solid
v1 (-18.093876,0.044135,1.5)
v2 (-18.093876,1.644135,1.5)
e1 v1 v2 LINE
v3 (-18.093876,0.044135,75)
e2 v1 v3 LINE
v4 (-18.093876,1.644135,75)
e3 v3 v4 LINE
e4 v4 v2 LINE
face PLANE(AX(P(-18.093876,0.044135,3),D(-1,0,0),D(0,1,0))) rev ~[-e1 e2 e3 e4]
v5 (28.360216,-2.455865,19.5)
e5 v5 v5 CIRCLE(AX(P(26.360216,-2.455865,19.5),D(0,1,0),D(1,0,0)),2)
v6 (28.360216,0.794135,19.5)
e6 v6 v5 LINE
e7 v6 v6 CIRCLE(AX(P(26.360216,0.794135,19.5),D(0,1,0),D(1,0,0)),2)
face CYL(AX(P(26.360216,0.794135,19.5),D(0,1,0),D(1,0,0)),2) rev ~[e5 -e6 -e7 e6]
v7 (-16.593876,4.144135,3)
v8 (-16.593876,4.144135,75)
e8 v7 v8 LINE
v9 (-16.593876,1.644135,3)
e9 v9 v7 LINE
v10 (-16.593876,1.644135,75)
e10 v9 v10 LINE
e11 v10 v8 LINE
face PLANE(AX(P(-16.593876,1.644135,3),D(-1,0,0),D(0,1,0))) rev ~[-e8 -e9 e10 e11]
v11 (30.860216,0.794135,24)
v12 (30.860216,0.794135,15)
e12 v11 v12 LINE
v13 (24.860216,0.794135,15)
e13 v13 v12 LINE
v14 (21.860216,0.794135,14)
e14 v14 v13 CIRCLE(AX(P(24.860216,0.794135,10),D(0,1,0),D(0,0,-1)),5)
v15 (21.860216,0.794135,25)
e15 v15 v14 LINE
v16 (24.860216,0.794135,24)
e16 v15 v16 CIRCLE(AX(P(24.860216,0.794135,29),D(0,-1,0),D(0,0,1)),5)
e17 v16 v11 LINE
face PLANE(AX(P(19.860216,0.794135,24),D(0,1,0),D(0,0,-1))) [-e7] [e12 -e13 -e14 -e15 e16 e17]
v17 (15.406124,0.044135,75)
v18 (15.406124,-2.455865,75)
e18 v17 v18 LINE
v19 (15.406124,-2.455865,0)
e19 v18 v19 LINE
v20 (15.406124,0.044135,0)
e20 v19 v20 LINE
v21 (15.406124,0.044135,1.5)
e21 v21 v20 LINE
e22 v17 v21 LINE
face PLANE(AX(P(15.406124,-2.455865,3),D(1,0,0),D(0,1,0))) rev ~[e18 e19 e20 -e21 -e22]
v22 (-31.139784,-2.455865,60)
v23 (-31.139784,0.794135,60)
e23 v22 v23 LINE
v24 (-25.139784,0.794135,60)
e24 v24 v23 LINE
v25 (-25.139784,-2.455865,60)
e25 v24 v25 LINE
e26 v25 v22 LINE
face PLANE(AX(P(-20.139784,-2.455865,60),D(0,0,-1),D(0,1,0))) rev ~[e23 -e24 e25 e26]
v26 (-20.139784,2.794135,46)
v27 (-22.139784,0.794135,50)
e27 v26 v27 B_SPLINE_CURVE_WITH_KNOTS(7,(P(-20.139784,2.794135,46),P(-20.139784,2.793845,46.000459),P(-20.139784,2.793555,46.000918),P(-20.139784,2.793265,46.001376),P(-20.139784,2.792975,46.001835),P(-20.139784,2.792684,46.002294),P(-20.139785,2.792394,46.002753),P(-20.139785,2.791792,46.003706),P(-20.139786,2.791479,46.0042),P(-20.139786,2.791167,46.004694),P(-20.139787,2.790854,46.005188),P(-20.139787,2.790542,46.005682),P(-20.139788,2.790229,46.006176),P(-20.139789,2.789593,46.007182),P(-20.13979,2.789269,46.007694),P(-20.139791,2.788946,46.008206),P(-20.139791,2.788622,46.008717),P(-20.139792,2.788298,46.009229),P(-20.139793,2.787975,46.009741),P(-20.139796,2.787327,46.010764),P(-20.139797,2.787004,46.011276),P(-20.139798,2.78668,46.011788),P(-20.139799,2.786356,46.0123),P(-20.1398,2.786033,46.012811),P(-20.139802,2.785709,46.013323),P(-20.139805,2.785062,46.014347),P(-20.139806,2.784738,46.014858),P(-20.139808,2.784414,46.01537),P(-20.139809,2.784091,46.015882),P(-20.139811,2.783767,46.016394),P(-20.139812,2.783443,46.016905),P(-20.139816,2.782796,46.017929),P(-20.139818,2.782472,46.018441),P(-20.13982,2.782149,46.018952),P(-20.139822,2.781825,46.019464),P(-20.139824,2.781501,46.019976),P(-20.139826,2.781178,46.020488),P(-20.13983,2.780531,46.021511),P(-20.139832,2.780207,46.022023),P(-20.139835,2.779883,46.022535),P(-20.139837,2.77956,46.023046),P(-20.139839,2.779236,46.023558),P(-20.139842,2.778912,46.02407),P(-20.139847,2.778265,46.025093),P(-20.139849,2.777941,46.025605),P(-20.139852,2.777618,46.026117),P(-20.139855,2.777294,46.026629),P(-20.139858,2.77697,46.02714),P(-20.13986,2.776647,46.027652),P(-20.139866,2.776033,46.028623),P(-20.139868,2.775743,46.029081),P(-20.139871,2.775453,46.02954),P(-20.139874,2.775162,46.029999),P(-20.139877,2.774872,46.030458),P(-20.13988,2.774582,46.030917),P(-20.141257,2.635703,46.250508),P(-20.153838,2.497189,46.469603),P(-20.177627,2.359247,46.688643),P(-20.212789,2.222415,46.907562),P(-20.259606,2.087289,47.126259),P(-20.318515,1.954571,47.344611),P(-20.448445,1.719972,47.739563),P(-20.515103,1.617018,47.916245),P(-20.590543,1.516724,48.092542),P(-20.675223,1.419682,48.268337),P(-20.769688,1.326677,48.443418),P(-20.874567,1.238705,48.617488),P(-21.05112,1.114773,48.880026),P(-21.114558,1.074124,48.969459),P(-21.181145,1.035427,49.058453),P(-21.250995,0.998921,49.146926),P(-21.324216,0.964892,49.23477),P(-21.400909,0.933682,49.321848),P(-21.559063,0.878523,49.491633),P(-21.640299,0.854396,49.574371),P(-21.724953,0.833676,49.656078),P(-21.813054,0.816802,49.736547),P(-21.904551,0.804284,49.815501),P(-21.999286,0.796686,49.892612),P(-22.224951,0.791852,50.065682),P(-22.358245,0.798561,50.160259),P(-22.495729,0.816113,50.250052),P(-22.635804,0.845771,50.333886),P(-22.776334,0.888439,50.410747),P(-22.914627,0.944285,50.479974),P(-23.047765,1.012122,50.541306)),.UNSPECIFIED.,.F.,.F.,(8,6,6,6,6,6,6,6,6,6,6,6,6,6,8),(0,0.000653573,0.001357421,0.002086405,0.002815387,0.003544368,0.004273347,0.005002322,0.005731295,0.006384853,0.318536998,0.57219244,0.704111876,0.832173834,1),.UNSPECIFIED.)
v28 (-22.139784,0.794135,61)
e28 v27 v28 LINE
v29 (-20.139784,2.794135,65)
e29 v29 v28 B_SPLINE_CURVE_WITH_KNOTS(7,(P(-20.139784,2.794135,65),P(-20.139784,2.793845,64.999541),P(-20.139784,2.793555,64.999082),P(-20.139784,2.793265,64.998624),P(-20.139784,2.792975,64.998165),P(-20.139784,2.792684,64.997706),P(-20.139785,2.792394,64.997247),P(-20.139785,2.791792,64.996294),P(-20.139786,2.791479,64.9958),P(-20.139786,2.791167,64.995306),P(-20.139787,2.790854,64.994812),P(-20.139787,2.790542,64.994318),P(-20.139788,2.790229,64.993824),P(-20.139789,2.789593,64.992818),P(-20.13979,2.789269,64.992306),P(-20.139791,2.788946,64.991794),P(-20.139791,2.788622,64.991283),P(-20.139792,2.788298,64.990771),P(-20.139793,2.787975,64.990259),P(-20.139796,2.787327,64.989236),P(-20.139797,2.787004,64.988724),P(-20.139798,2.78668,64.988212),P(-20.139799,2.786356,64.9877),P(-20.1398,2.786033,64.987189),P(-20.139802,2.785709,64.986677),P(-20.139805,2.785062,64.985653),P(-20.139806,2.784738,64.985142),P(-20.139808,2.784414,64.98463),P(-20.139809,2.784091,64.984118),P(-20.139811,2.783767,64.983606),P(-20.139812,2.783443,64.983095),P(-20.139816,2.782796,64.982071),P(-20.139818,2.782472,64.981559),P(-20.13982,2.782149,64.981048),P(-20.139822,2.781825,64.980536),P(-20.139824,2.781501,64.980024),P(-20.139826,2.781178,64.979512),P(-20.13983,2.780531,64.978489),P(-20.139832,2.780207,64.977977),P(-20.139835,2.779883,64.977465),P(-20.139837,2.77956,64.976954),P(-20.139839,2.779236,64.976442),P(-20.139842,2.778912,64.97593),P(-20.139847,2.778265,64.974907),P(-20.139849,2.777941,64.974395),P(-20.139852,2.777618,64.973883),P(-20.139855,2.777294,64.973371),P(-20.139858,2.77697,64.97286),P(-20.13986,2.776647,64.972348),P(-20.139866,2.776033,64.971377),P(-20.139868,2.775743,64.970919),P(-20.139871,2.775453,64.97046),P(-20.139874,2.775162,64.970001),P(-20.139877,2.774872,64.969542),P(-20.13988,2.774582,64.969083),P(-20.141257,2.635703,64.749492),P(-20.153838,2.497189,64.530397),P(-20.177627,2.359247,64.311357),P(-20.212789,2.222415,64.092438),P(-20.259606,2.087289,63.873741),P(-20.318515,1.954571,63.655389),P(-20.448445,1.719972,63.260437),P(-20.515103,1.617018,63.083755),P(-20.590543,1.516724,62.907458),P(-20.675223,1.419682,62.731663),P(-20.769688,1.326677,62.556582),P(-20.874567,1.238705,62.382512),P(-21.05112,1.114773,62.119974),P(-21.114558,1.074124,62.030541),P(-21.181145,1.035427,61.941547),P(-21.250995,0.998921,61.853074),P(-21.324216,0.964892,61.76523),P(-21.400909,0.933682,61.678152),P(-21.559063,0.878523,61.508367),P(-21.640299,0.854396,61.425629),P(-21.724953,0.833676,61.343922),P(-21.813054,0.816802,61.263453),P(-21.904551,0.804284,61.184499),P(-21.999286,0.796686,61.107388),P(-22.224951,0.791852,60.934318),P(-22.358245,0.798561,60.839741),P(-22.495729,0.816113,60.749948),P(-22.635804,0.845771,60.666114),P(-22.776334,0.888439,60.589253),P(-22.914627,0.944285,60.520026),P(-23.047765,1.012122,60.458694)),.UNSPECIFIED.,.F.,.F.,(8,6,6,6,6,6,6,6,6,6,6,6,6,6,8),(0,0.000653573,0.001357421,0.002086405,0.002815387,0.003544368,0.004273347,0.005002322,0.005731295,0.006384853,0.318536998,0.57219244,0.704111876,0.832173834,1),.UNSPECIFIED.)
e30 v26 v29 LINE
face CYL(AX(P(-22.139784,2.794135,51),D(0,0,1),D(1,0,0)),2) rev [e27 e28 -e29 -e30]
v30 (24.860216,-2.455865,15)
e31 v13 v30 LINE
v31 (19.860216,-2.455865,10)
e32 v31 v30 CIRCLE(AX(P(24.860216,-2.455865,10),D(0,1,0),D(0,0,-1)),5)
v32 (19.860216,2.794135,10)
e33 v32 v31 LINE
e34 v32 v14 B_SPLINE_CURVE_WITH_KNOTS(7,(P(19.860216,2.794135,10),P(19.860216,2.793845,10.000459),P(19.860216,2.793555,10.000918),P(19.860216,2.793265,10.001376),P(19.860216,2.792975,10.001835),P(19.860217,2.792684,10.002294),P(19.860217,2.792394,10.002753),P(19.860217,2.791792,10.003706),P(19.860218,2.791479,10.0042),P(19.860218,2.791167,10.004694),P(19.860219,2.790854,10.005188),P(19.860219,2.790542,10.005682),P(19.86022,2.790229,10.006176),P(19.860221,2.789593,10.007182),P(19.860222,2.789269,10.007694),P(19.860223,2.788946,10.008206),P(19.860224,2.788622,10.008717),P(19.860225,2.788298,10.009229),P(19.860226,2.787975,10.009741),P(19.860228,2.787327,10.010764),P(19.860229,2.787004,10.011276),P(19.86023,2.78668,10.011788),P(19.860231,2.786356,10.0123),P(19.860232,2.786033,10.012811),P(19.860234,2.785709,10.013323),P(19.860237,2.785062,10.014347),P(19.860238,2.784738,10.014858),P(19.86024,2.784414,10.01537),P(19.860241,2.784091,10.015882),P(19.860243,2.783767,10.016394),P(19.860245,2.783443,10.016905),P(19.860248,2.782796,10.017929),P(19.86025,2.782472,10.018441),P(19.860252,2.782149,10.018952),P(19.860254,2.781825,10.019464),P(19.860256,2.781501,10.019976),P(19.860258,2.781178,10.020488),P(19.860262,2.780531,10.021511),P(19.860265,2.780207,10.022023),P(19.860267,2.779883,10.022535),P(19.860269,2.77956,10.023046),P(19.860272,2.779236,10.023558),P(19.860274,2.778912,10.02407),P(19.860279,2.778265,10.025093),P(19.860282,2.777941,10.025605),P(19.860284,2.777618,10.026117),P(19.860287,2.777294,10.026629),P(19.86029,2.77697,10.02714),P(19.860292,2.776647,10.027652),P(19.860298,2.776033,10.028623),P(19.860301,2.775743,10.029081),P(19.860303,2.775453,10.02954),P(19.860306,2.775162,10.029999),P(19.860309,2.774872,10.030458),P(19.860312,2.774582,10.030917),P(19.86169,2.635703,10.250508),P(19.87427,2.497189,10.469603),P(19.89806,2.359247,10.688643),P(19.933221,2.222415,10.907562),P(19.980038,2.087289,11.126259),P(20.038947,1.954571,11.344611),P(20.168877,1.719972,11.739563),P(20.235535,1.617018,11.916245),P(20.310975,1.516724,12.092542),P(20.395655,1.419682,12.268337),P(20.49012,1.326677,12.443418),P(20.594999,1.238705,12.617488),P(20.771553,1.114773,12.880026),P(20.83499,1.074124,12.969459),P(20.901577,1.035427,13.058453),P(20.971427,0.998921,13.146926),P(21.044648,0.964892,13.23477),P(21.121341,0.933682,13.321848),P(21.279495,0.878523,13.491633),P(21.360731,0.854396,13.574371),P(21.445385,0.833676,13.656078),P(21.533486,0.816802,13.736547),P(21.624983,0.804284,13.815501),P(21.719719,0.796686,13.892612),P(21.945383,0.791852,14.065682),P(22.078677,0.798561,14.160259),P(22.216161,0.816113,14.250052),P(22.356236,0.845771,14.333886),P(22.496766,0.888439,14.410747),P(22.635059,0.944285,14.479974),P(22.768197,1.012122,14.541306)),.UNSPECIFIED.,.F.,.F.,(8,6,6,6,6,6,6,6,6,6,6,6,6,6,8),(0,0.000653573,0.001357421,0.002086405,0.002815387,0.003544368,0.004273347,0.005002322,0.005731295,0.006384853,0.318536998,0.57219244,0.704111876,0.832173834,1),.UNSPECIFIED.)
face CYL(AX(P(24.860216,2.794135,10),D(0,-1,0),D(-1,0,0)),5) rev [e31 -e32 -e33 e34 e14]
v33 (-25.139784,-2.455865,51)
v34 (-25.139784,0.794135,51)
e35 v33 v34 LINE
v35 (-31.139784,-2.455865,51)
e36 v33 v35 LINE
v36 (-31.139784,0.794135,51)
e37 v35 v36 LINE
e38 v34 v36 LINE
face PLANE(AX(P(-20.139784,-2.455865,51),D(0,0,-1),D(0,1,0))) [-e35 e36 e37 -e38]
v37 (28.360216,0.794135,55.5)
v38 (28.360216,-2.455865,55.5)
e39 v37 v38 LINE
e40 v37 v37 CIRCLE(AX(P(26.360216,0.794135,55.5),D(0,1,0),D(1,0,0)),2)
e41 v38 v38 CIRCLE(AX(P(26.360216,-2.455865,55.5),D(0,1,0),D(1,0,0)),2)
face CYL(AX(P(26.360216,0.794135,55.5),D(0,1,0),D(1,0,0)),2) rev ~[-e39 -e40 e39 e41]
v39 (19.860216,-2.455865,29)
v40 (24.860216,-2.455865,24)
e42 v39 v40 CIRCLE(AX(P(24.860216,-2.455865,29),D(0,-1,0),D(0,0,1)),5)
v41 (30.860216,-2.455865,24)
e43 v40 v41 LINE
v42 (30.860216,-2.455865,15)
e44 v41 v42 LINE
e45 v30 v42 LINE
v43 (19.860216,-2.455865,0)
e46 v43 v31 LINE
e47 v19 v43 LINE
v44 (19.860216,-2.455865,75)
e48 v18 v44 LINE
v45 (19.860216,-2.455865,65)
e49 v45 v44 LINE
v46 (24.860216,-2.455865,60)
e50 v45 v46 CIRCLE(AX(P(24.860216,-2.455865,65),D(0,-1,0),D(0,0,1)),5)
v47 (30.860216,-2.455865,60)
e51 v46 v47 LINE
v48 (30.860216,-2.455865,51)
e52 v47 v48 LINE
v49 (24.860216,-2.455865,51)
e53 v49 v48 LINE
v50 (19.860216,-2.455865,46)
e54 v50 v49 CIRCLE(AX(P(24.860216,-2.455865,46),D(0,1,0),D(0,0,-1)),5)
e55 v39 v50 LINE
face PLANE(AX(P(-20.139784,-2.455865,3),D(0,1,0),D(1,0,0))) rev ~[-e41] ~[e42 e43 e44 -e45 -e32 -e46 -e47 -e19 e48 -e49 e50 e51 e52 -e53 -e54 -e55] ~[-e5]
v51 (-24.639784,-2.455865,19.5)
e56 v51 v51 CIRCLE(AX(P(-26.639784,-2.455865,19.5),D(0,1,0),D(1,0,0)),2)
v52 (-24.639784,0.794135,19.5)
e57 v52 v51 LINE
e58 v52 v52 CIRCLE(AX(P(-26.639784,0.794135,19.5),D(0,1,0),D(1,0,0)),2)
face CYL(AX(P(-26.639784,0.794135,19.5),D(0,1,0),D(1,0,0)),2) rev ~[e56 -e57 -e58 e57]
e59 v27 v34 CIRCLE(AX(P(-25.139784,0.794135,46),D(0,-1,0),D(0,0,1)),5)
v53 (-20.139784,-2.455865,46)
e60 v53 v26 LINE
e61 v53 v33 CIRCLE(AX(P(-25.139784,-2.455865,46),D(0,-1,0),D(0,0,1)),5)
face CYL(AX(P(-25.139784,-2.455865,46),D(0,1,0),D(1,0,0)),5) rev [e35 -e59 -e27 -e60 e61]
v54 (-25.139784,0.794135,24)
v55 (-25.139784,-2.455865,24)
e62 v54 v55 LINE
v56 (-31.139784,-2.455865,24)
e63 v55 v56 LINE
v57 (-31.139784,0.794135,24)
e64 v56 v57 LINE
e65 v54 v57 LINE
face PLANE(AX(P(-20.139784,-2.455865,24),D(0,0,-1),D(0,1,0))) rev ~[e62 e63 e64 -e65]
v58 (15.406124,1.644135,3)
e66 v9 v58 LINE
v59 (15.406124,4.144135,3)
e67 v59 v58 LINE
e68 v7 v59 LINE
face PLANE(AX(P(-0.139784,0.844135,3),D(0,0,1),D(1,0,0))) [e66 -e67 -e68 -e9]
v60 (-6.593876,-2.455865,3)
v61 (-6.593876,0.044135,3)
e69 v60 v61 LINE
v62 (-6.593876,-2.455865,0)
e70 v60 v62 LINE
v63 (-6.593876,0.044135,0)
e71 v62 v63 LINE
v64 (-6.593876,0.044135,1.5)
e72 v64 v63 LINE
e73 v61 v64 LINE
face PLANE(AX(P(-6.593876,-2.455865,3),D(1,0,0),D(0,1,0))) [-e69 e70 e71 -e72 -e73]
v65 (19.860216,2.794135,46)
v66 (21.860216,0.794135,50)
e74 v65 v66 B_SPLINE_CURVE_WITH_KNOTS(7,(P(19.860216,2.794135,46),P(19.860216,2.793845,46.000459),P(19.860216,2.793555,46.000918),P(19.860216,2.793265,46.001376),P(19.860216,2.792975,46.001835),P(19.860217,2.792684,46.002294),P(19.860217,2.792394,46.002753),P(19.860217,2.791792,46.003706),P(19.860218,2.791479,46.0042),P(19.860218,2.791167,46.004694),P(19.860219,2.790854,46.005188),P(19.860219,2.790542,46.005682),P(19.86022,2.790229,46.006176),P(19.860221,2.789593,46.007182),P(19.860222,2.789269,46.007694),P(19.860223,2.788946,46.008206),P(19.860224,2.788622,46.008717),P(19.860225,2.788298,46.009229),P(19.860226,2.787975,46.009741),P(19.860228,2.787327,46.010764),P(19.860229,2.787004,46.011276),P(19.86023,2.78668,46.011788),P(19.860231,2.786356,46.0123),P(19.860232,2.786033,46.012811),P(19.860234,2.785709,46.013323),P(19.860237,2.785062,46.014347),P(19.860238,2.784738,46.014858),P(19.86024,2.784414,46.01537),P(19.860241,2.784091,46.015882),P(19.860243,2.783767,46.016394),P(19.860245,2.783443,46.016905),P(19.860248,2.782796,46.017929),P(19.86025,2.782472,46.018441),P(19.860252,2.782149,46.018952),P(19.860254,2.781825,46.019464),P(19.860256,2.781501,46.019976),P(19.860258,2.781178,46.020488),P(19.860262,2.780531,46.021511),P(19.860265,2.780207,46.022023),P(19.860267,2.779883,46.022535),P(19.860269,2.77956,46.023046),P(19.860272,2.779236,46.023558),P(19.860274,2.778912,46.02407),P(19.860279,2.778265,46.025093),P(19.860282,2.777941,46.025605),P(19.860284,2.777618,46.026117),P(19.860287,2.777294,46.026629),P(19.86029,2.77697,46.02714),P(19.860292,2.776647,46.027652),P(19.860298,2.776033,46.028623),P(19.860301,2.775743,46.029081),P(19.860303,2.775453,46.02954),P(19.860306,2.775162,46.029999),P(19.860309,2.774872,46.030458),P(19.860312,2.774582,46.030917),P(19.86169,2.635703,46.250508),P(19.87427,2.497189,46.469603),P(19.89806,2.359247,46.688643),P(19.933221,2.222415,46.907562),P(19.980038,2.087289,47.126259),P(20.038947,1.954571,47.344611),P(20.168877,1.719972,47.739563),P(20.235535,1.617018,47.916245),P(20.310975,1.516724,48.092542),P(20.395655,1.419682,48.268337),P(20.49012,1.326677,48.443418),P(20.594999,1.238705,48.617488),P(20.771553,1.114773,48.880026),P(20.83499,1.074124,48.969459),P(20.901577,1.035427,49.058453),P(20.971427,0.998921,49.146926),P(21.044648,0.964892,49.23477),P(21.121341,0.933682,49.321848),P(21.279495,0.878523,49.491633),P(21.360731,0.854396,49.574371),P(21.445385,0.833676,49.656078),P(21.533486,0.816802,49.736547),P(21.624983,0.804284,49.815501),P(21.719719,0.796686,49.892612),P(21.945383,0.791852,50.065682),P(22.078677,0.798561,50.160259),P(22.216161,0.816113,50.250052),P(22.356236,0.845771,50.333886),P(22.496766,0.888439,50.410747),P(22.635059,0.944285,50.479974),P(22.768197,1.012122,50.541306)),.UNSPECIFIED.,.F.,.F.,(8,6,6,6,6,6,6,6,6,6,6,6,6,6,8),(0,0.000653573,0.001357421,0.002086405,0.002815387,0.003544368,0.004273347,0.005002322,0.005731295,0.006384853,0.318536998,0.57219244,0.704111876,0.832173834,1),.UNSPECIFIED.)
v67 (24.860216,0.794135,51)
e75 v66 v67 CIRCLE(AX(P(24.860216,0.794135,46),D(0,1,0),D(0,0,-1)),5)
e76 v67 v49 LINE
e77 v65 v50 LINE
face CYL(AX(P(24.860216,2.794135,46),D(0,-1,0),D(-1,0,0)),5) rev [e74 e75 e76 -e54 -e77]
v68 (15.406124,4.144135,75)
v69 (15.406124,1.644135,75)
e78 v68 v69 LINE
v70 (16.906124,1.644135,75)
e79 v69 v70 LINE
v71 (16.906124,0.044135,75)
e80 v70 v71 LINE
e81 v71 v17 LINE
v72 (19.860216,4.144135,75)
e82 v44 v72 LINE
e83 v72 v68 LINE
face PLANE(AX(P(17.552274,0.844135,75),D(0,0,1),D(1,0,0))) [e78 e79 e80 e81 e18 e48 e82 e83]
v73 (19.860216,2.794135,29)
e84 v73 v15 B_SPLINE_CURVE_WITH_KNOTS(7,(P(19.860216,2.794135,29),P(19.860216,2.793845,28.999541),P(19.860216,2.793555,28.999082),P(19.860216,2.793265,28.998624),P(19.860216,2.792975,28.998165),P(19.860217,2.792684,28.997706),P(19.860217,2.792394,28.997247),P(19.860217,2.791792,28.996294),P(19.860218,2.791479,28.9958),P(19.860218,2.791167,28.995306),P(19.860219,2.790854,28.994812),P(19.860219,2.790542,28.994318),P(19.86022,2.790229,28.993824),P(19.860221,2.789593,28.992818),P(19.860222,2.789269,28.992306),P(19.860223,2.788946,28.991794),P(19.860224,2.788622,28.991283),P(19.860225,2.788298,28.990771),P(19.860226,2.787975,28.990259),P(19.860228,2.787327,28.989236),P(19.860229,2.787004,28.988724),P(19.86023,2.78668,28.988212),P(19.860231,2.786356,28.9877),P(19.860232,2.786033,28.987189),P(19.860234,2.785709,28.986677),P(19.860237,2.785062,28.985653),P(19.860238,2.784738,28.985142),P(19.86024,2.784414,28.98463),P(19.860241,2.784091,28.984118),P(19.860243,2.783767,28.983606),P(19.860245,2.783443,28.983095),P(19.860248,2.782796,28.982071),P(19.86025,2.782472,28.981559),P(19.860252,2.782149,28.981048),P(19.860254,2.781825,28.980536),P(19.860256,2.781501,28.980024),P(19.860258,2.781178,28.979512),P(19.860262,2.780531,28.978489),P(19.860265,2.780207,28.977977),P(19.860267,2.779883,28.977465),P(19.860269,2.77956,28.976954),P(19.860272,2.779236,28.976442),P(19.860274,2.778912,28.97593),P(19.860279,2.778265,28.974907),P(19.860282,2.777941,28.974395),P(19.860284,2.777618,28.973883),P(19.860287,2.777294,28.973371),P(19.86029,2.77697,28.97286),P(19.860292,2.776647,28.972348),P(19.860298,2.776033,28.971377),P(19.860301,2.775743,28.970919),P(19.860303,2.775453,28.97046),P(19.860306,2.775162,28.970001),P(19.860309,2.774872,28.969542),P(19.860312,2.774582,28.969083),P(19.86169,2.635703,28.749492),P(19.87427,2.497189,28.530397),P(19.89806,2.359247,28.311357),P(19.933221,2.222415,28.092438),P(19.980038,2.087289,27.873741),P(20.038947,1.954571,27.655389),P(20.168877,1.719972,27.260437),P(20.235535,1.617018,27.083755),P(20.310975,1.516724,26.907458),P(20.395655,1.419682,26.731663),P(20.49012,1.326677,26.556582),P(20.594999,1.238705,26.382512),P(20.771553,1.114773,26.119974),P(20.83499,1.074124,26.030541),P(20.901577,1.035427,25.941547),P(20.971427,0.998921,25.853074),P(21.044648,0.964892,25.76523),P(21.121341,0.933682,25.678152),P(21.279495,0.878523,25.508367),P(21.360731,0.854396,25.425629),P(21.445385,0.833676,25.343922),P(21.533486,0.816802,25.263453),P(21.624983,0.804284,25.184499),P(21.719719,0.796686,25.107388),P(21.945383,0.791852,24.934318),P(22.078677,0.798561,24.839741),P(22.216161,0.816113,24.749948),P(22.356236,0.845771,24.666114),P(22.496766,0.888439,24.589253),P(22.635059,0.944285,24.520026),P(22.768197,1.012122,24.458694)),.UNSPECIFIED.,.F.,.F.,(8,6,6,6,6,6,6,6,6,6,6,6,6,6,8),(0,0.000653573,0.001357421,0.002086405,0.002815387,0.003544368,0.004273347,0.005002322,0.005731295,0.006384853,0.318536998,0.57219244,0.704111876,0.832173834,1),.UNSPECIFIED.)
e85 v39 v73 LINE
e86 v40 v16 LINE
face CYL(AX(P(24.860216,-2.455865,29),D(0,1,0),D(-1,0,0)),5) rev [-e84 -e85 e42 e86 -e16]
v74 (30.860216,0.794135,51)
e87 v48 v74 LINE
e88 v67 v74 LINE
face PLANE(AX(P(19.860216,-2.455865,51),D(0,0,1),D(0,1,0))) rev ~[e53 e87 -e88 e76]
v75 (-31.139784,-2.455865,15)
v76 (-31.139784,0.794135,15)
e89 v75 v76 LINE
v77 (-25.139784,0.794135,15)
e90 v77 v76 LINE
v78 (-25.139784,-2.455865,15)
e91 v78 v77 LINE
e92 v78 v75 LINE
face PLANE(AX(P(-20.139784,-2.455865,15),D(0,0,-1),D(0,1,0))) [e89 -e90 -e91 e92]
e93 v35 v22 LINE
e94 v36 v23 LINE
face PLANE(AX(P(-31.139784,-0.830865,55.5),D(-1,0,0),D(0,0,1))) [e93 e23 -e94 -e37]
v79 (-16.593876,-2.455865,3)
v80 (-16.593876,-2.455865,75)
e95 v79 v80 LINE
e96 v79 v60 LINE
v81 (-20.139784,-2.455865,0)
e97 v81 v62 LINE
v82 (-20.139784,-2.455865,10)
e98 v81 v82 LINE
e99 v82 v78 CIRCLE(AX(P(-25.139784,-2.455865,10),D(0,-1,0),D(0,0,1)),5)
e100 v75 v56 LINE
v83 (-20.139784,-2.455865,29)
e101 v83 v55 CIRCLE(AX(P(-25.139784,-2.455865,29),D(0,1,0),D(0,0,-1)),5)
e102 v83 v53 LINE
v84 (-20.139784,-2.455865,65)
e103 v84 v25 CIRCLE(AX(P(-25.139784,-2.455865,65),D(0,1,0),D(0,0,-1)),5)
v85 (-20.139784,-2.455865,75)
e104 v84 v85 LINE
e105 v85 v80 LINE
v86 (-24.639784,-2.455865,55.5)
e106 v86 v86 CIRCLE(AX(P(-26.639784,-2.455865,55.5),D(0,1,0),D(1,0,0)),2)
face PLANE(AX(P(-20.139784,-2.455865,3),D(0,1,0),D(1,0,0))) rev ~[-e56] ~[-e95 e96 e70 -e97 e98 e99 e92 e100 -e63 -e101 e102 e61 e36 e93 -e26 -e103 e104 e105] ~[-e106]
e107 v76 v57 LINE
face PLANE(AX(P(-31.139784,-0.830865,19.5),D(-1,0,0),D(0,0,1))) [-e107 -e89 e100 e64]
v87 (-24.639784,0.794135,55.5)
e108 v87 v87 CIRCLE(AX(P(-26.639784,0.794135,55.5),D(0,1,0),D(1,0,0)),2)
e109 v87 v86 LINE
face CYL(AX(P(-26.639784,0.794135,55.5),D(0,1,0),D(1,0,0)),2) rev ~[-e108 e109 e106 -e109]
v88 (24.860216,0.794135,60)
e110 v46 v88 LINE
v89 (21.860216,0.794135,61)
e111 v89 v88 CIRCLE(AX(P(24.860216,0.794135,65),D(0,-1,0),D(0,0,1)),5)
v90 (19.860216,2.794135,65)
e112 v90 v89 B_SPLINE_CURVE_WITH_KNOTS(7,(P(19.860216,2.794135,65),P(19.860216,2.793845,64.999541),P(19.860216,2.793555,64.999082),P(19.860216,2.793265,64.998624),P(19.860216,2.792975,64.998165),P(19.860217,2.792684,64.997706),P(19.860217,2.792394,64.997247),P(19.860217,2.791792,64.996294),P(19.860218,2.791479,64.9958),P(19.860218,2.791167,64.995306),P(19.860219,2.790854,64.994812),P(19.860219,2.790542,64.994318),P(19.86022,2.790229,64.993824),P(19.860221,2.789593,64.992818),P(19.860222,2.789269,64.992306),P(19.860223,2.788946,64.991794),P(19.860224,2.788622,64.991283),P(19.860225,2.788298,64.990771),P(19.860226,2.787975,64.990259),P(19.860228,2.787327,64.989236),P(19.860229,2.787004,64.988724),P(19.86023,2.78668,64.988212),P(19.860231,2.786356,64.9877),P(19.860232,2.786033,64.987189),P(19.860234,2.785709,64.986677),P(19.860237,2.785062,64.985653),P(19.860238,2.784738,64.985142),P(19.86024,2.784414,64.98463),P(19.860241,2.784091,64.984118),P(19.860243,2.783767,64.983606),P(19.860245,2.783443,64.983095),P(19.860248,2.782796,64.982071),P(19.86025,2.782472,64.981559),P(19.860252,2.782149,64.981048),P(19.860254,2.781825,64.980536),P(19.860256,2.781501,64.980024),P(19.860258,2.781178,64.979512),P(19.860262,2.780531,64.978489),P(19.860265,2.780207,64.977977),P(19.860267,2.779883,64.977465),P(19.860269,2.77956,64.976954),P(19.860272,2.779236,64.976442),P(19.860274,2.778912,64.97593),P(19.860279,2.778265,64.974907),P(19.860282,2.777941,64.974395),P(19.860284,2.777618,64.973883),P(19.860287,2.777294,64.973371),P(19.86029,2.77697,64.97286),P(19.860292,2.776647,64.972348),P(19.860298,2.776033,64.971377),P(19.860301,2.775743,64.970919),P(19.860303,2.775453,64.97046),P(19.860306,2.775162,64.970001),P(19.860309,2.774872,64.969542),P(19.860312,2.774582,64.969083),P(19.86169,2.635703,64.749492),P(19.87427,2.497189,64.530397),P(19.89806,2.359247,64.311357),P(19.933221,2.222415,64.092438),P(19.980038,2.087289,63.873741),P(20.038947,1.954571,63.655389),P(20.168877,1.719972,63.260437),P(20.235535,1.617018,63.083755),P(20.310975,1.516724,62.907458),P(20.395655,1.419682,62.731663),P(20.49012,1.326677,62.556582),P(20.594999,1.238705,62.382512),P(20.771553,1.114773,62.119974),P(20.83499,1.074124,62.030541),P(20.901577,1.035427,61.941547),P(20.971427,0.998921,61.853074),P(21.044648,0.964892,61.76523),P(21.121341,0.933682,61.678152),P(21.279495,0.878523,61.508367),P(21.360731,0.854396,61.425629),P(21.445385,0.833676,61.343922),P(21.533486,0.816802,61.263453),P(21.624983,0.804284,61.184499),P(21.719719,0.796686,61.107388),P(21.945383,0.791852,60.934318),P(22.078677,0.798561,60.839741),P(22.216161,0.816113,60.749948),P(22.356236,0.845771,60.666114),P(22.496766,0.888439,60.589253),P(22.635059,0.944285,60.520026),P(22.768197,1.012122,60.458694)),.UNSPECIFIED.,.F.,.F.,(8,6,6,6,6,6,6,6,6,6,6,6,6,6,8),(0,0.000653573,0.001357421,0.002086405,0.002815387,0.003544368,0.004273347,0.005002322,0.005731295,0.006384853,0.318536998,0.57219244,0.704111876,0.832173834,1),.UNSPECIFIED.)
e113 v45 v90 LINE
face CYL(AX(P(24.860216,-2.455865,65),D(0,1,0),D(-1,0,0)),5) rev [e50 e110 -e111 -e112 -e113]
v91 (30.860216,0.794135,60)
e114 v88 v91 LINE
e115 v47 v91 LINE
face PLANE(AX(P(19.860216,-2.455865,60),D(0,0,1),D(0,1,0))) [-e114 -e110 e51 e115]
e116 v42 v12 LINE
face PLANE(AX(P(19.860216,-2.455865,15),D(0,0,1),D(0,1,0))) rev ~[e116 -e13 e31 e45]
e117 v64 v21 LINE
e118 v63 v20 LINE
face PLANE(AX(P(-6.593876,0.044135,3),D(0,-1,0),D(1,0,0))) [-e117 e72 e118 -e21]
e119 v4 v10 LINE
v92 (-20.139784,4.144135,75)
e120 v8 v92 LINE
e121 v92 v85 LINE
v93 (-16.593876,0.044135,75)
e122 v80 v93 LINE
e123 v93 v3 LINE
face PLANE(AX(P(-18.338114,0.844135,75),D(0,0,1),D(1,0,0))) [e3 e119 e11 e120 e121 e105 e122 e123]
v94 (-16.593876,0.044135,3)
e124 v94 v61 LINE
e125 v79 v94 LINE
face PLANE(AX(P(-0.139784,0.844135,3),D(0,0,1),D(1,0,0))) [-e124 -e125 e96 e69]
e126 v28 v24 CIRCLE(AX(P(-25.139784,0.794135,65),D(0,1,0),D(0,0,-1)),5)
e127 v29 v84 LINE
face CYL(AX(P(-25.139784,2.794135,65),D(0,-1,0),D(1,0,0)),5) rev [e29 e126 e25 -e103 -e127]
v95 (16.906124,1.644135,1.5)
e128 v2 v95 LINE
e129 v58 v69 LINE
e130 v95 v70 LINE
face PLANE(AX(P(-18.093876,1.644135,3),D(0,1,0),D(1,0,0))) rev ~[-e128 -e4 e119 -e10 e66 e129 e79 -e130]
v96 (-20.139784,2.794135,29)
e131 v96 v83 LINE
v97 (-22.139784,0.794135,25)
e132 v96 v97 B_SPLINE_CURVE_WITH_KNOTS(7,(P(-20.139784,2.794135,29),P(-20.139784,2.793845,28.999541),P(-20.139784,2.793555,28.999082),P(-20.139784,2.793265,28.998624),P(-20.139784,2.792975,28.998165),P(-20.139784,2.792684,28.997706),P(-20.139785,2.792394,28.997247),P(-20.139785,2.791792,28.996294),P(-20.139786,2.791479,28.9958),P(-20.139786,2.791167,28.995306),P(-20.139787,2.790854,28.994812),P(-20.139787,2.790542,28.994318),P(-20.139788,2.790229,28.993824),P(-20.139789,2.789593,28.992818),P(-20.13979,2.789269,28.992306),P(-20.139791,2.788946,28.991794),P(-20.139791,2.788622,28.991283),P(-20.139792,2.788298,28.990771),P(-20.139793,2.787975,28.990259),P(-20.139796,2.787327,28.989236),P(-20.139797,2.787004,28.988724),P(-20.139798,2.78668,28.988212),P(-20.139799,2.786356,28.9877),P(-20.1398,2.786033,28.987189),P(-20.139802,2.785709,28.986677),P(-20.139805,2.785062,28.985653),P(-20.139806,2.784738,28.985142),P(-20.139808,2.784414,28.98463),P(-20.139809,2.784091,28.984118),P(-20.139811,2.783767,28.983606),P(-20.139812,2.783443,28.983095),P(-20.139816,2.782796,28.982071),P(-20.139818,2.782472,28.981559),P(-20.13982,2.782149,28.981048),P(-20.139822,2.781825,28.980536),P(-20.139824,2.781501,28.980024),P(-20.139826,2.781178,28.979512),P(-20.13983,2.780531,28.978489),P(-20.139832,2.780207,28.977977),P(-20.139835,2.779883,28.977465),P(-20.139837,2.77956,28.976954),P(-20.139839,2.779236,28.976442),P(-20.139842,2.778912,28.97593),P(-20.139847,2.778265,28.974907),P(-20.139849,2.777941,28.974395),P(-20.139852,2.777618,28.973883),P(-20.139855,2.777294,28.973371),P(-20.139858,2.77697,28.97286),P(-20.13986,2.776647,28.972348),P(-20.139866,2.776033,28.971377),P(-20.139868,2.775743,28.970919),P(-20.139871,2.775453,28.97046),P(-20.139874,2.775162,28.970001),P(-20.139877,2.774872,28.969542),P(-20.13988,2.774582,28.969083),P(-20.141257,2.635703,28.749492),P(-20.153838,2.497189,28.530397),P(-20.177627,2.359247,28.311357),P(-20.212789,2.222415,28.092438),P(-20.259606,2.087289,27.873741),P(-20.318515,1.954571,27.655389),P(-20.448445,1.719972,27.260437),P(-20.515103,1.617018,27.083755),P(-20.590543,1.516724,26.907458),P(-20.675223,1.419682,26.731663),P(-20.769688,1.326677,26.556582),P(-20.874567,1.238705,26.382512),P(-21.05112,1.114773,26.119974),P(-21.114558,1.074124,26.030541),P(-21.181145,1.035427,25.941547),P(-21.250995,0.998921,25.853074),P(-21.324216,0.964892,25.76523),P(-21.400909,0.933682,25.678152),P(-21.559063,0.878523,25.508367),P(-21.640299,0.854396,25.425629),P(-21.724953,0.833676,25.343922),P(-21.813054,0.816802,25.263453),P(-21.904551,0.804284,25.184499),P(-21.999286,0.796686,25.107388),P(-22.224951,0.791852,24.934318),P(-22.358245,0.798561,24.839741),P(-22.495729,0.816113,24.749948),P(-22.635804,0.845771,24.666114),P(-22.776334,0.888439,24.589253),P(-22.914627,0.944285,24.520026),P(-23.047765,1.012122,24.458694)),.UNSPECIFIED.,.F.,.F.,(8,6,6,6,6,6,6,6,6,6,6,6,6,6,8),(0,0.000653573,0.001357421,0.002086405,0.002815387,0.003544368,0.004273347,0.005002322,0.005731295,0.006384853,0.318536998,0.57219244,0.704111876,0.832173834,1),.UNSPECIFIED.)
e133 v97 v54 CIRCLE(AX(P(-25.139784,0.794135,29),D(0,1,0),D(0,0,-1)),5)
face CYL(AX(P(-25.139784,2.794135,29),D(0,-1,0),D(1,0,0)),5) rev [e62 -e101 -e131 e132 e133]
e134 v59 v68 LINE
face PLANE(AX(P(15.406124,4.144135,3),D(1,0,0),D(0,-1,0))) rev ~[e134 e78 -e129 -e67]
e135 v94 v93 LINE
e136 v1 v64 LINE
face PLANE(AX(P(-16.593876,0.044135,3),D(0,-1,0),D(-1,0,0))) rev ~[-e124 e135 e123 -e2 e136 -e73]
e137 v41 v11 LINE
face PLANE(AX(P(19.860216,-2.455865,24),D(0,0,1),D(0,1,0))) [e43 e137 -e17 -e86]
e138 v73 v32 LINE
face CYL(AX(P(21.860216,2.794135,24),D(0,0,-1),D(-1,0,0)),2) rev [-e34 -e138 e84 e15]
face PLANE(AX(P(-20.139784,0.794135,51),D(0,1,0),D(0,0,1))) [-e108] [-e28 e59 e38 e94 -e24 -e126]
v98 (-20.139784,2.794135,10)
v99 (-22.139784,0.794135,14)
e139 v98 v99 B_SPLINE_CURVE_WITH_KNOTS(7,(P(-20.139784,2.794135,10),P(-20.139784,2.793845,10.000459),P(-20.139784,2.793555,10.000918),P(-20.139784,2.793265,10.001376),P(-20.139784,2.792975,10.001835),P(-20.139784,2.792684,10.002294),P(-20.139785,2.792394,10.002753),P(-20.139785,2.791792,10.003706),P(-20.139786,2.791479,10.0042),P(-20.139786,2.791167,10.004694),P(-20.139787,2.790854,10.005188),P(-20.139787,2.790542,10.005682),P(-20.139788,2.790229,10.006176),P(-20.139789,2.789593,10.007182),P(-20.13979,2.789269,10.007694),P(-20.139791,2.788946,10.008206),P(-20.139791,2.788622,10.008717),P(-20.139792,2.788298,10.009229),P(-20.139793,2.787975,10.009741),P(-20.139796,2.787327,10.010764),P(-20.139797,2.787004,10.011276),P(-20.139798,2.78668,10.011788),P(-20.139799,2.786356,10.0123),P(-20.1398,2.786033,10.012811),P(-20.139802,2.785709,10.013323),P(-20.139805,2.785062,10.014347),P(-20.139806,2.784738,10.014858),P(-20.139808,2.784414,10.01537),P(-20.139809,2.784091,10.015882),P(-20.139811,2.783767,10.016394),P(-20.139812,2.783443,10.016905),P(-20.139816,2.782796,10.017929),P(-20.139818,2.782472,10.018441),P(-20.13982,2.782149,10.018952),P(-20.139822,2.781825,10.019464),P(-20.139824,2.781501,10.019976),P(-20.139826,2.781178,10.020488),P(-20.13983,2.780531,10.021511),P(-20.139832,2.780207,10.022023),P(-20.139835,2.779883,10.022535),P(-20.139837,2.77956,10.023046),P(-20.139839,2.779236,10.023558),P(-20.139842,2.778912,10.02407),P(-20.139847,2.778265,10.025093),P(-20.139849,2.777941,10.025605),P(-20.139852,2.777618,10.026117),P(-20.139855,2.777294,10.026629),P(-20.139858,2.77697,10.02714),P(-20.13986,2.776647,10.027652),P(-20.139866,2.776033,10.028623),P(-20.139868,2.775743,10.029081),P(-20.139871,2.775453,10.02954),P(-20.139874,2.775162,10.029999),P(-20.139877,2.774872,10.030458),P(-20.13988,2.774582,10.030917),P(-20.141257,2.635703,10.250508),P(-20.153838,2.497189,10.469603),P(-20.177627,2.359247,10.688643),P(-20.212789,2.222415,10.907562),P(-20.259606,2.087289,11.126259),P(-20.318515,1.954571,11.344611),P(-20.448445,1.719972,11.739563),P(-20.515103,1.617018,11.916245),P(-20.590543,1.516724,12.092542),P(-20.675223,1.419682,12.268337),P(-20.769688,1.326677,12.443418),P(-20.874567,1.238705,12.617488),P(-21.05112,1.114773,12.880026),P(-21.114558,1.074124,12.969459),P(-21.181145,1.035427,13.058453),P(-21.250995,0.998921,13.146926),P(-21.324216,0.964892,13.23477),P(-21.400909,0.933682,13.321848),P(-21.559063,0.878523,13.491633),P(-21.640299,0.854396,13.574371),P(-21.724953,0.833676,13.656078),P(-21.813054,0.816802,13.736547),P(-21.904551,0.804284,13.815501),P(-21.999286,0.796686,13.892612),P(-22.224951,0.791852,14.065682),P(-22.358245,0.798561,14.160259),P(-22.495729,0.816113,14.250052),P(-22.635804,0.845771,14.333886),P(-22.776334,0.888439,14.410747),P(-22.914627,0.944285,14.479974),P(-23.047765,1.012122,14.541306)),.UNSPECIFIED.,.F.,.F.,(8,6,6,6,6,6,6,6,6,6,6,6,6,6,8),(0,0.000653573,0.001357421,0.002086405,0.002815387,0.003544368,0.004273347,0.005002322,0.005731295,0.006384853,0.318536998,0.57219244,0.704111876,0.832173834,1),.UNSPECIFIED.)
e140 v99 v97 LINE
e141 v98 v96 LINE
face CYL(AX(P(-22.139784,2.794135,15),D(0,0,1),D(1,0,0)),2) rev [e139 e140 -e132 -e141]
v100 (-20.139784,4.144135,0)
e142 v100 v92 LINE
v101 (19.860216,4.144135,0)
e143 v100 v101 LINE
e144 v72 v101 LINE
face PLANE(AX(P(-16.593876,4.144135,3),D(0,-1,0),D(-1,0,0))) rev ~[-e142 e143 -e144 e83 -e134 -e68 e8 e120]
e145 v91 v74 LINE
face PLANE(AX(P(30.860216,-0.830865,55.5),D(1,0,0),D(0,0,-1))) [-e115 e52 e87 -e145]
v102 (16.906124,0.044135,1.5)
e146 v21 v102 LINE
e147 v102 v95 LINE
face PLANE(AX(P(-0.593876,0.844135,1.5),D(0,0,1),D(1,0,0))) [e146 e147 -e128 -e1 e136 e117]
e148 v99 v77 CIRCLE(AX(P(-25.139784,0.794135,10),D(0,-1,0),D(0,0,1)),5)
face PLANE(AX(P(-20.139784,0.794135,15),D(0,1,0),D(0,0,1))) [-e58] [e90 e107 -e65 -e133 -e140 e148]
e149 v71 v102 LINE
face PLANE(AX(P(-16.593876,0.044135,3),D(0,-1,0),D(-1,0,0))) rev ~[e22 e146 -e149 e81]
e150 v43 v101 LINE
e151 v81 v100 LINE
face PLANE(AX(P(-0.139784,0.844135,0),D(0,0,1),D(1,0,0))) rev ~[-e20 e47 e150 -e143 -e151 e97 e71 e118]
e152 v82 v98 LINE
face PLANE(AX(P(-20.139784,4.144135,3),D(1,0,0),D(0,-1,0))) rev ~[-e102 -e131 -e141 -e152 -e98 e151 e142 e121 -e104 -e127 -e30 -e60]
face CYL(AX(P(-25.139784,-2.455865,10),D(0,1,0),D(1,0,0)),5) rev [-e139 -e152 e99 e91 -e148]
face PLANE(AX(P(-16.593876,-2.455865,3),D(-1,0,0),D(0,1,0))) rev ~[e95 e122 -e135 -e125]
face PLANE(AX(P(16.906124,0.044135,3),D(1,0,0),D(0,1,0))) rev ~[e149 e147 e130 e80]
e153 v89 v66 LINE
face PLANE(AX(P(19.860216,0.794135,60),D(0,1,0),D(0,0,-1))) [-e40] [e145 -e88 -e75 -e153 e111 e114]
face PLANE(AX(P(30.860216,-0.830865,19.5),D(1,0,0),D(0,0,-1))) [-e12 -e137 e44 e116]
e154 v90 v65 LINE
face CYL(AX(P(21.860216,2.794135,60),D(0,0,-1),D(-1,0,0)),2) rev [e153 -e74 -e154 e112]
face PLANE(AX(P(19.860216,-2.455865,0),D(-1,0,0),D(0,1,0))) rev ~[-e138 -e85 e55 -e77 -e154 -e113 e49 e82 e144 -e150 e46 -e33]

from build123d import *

# Parameters (mm, degrees)
SKETCH2_W           = 40
SKETCH2_H           = 6.6
BOSS_EXTRUDE1_DEPTH = 3
SKETCH3_W           = 35
SKETCH3_H           = 1.6
CUT_EXTRUDE1_DEPTH  = 1.5
BOSS_EXTRUDE2_DEPTH = 72
SKETCH5_W           = 22
SKETCH5_H           = 2.5
CUT_EXTRUDE2_DEPTH  = 4
SKETCH6_W           = 9
SKETCH6_H           = 3.25
BOSS_EXTRUDE3_DEPTH = 11
SKETCH7_W           = 9
SKETCH7_H           = 3.25
BOSS_EXTRUDE4_DEPTH = 11
SKETCH8_R           = 2
CUT_EXTRUDE3_DEPTH  = 3.25
FILLET1_R           = 2
FILLET2_R           = 5
FILLET3_R           = 5
FILLET4_R           = 2
FILLET5_R           = 5
FILLET6_R           = 5
FILLET7_R           = 2
FILLET8_R           = 2
FILLET9_R           = 5
FILLET10_R          = 5
FILLET11_R          = 5
FILLET12_R          = 5


with BuildPart() as part:
    # Sketch2 → Boss-Extrude1 (new body)
    with BuildSketch(Plane.XY):
        with Locations((-0.139783945, 0.84413532)):
            Rectangle(SKETCH2_W, SKETCH2_H)
    extrude(amount=BOSS_EXTRUDE1_DEPTH)

    # Sketch3 → Cut-Extrude1 (cut)
    with BuildSketch(Plane.XY.offset(3)):
        with Locations((-0.593876274, 0.84413532)):
            Rectangle(SKETCH3_W, SKETCH3_H)
    extrude(amount=-CUT_EXTRUDE1_DEPTH, mode=Mode.SUBTRACT)

    # Sketch4 → Boss-Extrude2 (add)
    with BuildSketch(Plane.XY.offset(3)):
        Polygon((-16.593876274, 4.14413532), (-20.139783945, 4.14413532), (-20.139783945, -2.45586468), (-16.593876274, -2.45586468), (-16.593876274, 0.04413532), (-18.093876274, 0.04413532), (-18.093876274, 1.64413532), (-16.593876274, 1.64413532), align=None)
        Polygon((15.406123726, 4.14413532), (15.406123726, 1.64413532), (16.906123726, 1.64413532), (16.906123726, 0.04413532), (15.406123726, 0.04413532), (15.406123726, -2.45586468), (19.860216055, -2.45586468), (19.860216055, 4.14413532), align=None)
    extrude(amount=BOSS_EXTRUDE2_DEPTH)

    # Sketch5 → Cut-Extrude2 (cut)
    with BuildSketch(Plane.XY.offset(3)):
        with Locations((4.406123726, -1.20586468)):
            Rectangle(SKETCH5_W, SKETCH5_H)
    extrude(amount=-CUT_EXTRUDE2_DEPTH, mode=Mode.SUBTRACT)

    # Sketch6 → Boss-Extrude3 (add)
    with BuildSketch(Plane.ZY.offset(20.139783945)):
        with Locations((19.5, -0.83086468)):
            Rectangle(SKETCH6_W, SKETCH6_H)
        with Locations((55.5, -0.83086468)):
            Rectangle(SKETCH6_W, SKETCH6_H)
    extrude(amount=BOSS_EXTRUDE3_DEPTH)

    # Sketch7 → Boss-Extrude4 (add)
    with BuildSketch(Plane(origin=(19.860216055, 0, 0), x_dir=(0, 0, -1), z_dir=(1, 0, 0))):
        with Locations((-55.5, -0.83086468)):
            Rectangle(SKETCH7_W, SKETCH7_H)
        with Locations((-19.5, -0.83086468)):
            Rectangle(SKETCH7_W, SKETCH7_H)
    extrude(amount=BOSS_EXTRUDE4_DEPTH)

    # Sketch8 → Cut-Extrude3 (cut)
    with BuildSketch(Plane(origin=(0, 0.79413532, 0), x_dir=(1, 0, 0), z_dir=(0, 1, 0))):
        with Locations((-26.639783945, -19.5)):
            Circle(SKETCH8_R)
        with Locations((-26.639783945, -55.5)):
            Circle(SKETCH8_R)
        with Locations((26.360216055, -55.5)):
            Circle(SKETCH8_R)
        with Locations((26.360216055, -19.5)):
            Circle(SKETCH8_R)
    extrude(amount=-CUT_EXTRUDE3_DEPTH, mode=Mode.SUBTRACT)

    # Fillet1
    fillet1_edges = [part.edges().sort_by_distance(p)[0] for p in [
        (19.860216055, 0.79413532, 55.5),
    ]]
    fillet(fillet1_edges, radius=FILLET1_R)

    # Fillet2
    fillet2_edges = [part.edges().sort_by_distance(p)[0] for p in [
        (19.860216055, -0.83086468, 51),
    ]]
    fillet(fillet2_edges, radius=FILLET2_R)

    # Fillet3
    fillet3_edges = [part.edges().sort_by_distance(p)[0] for p in [
        (19.860216055, -0.83086468, 60),
    ]]
    fillet(fillet3_edges, radius=FILLET3_R)

    # Fillet4
    fillet4_edges = [part.edges().sort_by_distance(p)[0] for p in [
        (19.860216055, 0.79413532, 19.5),
    ]]
    fillet(fillet4_edges, radius=FILLET4_R)

    # Fillet5
    fillet5_edges = [part.edges().sort_by_distance(p)[0] for p in [
        (19.860216055, -0.83086468, 15),
    ]]
    fillet(fillet5_edges, radius=FILLET5_R)

    # Fillet6
    fillet6_edges = [part.edges().sort_by_distance(p)[0] for p in [
        (19.860216055, -0.83086468, 24),
    ]]
    fillet(fillet6_edges, radius=FILLET6_R)

    # Fillet7
    fillet7_edges = [part.edges().sort_by_distance(p)[0] for p in [
        (-20.139783945, 0.79413532, 55.5),
    ]]
    fillet(fillet7_edges, radius=FILLET7_R)

    # Fillet8
    fillet8_edges = [part.edges().sort_by_distance(p)[0] for p in [
        (-20.139783945, 0.79413532, 19.5),
    ]]
    fillet(fillet8_edges, radius=FILLET8_R)

    # Fillet9
    fillet9_edges = [part.edges().sort_by_distance(p)[0] for p in [
        (-20.139783945, -0.83086468, 15),
    ]]
    fillet(fillet9_edges, radius=FILLET9_R)

    # Fillet10
    fillet10_edges = [part.edges().sort_by_distance(p)[0] for p in [
        (-20.139783945, -0.83086468, 24),
    ]]
    fillet(fillet10_edges, radius=FILLET10_R)

    # Fillet11
    fillet11_edges = [part.edges().sort_by_distance(p)[0] for p in [
        (-20.139783945, -0.83086468, 51),
    ]]
    fillet(fillet11_edges, radius=FILLET11_R)

    # Fillet12
    fillet12_edges = [part.edges().sort_by_distance(p)[0] for p in [
        (-20.139783945, -0.83086468, 60),
    ]]
    fillet(fillet12_edges, radius=FILLET12_R)


solid = part.part
